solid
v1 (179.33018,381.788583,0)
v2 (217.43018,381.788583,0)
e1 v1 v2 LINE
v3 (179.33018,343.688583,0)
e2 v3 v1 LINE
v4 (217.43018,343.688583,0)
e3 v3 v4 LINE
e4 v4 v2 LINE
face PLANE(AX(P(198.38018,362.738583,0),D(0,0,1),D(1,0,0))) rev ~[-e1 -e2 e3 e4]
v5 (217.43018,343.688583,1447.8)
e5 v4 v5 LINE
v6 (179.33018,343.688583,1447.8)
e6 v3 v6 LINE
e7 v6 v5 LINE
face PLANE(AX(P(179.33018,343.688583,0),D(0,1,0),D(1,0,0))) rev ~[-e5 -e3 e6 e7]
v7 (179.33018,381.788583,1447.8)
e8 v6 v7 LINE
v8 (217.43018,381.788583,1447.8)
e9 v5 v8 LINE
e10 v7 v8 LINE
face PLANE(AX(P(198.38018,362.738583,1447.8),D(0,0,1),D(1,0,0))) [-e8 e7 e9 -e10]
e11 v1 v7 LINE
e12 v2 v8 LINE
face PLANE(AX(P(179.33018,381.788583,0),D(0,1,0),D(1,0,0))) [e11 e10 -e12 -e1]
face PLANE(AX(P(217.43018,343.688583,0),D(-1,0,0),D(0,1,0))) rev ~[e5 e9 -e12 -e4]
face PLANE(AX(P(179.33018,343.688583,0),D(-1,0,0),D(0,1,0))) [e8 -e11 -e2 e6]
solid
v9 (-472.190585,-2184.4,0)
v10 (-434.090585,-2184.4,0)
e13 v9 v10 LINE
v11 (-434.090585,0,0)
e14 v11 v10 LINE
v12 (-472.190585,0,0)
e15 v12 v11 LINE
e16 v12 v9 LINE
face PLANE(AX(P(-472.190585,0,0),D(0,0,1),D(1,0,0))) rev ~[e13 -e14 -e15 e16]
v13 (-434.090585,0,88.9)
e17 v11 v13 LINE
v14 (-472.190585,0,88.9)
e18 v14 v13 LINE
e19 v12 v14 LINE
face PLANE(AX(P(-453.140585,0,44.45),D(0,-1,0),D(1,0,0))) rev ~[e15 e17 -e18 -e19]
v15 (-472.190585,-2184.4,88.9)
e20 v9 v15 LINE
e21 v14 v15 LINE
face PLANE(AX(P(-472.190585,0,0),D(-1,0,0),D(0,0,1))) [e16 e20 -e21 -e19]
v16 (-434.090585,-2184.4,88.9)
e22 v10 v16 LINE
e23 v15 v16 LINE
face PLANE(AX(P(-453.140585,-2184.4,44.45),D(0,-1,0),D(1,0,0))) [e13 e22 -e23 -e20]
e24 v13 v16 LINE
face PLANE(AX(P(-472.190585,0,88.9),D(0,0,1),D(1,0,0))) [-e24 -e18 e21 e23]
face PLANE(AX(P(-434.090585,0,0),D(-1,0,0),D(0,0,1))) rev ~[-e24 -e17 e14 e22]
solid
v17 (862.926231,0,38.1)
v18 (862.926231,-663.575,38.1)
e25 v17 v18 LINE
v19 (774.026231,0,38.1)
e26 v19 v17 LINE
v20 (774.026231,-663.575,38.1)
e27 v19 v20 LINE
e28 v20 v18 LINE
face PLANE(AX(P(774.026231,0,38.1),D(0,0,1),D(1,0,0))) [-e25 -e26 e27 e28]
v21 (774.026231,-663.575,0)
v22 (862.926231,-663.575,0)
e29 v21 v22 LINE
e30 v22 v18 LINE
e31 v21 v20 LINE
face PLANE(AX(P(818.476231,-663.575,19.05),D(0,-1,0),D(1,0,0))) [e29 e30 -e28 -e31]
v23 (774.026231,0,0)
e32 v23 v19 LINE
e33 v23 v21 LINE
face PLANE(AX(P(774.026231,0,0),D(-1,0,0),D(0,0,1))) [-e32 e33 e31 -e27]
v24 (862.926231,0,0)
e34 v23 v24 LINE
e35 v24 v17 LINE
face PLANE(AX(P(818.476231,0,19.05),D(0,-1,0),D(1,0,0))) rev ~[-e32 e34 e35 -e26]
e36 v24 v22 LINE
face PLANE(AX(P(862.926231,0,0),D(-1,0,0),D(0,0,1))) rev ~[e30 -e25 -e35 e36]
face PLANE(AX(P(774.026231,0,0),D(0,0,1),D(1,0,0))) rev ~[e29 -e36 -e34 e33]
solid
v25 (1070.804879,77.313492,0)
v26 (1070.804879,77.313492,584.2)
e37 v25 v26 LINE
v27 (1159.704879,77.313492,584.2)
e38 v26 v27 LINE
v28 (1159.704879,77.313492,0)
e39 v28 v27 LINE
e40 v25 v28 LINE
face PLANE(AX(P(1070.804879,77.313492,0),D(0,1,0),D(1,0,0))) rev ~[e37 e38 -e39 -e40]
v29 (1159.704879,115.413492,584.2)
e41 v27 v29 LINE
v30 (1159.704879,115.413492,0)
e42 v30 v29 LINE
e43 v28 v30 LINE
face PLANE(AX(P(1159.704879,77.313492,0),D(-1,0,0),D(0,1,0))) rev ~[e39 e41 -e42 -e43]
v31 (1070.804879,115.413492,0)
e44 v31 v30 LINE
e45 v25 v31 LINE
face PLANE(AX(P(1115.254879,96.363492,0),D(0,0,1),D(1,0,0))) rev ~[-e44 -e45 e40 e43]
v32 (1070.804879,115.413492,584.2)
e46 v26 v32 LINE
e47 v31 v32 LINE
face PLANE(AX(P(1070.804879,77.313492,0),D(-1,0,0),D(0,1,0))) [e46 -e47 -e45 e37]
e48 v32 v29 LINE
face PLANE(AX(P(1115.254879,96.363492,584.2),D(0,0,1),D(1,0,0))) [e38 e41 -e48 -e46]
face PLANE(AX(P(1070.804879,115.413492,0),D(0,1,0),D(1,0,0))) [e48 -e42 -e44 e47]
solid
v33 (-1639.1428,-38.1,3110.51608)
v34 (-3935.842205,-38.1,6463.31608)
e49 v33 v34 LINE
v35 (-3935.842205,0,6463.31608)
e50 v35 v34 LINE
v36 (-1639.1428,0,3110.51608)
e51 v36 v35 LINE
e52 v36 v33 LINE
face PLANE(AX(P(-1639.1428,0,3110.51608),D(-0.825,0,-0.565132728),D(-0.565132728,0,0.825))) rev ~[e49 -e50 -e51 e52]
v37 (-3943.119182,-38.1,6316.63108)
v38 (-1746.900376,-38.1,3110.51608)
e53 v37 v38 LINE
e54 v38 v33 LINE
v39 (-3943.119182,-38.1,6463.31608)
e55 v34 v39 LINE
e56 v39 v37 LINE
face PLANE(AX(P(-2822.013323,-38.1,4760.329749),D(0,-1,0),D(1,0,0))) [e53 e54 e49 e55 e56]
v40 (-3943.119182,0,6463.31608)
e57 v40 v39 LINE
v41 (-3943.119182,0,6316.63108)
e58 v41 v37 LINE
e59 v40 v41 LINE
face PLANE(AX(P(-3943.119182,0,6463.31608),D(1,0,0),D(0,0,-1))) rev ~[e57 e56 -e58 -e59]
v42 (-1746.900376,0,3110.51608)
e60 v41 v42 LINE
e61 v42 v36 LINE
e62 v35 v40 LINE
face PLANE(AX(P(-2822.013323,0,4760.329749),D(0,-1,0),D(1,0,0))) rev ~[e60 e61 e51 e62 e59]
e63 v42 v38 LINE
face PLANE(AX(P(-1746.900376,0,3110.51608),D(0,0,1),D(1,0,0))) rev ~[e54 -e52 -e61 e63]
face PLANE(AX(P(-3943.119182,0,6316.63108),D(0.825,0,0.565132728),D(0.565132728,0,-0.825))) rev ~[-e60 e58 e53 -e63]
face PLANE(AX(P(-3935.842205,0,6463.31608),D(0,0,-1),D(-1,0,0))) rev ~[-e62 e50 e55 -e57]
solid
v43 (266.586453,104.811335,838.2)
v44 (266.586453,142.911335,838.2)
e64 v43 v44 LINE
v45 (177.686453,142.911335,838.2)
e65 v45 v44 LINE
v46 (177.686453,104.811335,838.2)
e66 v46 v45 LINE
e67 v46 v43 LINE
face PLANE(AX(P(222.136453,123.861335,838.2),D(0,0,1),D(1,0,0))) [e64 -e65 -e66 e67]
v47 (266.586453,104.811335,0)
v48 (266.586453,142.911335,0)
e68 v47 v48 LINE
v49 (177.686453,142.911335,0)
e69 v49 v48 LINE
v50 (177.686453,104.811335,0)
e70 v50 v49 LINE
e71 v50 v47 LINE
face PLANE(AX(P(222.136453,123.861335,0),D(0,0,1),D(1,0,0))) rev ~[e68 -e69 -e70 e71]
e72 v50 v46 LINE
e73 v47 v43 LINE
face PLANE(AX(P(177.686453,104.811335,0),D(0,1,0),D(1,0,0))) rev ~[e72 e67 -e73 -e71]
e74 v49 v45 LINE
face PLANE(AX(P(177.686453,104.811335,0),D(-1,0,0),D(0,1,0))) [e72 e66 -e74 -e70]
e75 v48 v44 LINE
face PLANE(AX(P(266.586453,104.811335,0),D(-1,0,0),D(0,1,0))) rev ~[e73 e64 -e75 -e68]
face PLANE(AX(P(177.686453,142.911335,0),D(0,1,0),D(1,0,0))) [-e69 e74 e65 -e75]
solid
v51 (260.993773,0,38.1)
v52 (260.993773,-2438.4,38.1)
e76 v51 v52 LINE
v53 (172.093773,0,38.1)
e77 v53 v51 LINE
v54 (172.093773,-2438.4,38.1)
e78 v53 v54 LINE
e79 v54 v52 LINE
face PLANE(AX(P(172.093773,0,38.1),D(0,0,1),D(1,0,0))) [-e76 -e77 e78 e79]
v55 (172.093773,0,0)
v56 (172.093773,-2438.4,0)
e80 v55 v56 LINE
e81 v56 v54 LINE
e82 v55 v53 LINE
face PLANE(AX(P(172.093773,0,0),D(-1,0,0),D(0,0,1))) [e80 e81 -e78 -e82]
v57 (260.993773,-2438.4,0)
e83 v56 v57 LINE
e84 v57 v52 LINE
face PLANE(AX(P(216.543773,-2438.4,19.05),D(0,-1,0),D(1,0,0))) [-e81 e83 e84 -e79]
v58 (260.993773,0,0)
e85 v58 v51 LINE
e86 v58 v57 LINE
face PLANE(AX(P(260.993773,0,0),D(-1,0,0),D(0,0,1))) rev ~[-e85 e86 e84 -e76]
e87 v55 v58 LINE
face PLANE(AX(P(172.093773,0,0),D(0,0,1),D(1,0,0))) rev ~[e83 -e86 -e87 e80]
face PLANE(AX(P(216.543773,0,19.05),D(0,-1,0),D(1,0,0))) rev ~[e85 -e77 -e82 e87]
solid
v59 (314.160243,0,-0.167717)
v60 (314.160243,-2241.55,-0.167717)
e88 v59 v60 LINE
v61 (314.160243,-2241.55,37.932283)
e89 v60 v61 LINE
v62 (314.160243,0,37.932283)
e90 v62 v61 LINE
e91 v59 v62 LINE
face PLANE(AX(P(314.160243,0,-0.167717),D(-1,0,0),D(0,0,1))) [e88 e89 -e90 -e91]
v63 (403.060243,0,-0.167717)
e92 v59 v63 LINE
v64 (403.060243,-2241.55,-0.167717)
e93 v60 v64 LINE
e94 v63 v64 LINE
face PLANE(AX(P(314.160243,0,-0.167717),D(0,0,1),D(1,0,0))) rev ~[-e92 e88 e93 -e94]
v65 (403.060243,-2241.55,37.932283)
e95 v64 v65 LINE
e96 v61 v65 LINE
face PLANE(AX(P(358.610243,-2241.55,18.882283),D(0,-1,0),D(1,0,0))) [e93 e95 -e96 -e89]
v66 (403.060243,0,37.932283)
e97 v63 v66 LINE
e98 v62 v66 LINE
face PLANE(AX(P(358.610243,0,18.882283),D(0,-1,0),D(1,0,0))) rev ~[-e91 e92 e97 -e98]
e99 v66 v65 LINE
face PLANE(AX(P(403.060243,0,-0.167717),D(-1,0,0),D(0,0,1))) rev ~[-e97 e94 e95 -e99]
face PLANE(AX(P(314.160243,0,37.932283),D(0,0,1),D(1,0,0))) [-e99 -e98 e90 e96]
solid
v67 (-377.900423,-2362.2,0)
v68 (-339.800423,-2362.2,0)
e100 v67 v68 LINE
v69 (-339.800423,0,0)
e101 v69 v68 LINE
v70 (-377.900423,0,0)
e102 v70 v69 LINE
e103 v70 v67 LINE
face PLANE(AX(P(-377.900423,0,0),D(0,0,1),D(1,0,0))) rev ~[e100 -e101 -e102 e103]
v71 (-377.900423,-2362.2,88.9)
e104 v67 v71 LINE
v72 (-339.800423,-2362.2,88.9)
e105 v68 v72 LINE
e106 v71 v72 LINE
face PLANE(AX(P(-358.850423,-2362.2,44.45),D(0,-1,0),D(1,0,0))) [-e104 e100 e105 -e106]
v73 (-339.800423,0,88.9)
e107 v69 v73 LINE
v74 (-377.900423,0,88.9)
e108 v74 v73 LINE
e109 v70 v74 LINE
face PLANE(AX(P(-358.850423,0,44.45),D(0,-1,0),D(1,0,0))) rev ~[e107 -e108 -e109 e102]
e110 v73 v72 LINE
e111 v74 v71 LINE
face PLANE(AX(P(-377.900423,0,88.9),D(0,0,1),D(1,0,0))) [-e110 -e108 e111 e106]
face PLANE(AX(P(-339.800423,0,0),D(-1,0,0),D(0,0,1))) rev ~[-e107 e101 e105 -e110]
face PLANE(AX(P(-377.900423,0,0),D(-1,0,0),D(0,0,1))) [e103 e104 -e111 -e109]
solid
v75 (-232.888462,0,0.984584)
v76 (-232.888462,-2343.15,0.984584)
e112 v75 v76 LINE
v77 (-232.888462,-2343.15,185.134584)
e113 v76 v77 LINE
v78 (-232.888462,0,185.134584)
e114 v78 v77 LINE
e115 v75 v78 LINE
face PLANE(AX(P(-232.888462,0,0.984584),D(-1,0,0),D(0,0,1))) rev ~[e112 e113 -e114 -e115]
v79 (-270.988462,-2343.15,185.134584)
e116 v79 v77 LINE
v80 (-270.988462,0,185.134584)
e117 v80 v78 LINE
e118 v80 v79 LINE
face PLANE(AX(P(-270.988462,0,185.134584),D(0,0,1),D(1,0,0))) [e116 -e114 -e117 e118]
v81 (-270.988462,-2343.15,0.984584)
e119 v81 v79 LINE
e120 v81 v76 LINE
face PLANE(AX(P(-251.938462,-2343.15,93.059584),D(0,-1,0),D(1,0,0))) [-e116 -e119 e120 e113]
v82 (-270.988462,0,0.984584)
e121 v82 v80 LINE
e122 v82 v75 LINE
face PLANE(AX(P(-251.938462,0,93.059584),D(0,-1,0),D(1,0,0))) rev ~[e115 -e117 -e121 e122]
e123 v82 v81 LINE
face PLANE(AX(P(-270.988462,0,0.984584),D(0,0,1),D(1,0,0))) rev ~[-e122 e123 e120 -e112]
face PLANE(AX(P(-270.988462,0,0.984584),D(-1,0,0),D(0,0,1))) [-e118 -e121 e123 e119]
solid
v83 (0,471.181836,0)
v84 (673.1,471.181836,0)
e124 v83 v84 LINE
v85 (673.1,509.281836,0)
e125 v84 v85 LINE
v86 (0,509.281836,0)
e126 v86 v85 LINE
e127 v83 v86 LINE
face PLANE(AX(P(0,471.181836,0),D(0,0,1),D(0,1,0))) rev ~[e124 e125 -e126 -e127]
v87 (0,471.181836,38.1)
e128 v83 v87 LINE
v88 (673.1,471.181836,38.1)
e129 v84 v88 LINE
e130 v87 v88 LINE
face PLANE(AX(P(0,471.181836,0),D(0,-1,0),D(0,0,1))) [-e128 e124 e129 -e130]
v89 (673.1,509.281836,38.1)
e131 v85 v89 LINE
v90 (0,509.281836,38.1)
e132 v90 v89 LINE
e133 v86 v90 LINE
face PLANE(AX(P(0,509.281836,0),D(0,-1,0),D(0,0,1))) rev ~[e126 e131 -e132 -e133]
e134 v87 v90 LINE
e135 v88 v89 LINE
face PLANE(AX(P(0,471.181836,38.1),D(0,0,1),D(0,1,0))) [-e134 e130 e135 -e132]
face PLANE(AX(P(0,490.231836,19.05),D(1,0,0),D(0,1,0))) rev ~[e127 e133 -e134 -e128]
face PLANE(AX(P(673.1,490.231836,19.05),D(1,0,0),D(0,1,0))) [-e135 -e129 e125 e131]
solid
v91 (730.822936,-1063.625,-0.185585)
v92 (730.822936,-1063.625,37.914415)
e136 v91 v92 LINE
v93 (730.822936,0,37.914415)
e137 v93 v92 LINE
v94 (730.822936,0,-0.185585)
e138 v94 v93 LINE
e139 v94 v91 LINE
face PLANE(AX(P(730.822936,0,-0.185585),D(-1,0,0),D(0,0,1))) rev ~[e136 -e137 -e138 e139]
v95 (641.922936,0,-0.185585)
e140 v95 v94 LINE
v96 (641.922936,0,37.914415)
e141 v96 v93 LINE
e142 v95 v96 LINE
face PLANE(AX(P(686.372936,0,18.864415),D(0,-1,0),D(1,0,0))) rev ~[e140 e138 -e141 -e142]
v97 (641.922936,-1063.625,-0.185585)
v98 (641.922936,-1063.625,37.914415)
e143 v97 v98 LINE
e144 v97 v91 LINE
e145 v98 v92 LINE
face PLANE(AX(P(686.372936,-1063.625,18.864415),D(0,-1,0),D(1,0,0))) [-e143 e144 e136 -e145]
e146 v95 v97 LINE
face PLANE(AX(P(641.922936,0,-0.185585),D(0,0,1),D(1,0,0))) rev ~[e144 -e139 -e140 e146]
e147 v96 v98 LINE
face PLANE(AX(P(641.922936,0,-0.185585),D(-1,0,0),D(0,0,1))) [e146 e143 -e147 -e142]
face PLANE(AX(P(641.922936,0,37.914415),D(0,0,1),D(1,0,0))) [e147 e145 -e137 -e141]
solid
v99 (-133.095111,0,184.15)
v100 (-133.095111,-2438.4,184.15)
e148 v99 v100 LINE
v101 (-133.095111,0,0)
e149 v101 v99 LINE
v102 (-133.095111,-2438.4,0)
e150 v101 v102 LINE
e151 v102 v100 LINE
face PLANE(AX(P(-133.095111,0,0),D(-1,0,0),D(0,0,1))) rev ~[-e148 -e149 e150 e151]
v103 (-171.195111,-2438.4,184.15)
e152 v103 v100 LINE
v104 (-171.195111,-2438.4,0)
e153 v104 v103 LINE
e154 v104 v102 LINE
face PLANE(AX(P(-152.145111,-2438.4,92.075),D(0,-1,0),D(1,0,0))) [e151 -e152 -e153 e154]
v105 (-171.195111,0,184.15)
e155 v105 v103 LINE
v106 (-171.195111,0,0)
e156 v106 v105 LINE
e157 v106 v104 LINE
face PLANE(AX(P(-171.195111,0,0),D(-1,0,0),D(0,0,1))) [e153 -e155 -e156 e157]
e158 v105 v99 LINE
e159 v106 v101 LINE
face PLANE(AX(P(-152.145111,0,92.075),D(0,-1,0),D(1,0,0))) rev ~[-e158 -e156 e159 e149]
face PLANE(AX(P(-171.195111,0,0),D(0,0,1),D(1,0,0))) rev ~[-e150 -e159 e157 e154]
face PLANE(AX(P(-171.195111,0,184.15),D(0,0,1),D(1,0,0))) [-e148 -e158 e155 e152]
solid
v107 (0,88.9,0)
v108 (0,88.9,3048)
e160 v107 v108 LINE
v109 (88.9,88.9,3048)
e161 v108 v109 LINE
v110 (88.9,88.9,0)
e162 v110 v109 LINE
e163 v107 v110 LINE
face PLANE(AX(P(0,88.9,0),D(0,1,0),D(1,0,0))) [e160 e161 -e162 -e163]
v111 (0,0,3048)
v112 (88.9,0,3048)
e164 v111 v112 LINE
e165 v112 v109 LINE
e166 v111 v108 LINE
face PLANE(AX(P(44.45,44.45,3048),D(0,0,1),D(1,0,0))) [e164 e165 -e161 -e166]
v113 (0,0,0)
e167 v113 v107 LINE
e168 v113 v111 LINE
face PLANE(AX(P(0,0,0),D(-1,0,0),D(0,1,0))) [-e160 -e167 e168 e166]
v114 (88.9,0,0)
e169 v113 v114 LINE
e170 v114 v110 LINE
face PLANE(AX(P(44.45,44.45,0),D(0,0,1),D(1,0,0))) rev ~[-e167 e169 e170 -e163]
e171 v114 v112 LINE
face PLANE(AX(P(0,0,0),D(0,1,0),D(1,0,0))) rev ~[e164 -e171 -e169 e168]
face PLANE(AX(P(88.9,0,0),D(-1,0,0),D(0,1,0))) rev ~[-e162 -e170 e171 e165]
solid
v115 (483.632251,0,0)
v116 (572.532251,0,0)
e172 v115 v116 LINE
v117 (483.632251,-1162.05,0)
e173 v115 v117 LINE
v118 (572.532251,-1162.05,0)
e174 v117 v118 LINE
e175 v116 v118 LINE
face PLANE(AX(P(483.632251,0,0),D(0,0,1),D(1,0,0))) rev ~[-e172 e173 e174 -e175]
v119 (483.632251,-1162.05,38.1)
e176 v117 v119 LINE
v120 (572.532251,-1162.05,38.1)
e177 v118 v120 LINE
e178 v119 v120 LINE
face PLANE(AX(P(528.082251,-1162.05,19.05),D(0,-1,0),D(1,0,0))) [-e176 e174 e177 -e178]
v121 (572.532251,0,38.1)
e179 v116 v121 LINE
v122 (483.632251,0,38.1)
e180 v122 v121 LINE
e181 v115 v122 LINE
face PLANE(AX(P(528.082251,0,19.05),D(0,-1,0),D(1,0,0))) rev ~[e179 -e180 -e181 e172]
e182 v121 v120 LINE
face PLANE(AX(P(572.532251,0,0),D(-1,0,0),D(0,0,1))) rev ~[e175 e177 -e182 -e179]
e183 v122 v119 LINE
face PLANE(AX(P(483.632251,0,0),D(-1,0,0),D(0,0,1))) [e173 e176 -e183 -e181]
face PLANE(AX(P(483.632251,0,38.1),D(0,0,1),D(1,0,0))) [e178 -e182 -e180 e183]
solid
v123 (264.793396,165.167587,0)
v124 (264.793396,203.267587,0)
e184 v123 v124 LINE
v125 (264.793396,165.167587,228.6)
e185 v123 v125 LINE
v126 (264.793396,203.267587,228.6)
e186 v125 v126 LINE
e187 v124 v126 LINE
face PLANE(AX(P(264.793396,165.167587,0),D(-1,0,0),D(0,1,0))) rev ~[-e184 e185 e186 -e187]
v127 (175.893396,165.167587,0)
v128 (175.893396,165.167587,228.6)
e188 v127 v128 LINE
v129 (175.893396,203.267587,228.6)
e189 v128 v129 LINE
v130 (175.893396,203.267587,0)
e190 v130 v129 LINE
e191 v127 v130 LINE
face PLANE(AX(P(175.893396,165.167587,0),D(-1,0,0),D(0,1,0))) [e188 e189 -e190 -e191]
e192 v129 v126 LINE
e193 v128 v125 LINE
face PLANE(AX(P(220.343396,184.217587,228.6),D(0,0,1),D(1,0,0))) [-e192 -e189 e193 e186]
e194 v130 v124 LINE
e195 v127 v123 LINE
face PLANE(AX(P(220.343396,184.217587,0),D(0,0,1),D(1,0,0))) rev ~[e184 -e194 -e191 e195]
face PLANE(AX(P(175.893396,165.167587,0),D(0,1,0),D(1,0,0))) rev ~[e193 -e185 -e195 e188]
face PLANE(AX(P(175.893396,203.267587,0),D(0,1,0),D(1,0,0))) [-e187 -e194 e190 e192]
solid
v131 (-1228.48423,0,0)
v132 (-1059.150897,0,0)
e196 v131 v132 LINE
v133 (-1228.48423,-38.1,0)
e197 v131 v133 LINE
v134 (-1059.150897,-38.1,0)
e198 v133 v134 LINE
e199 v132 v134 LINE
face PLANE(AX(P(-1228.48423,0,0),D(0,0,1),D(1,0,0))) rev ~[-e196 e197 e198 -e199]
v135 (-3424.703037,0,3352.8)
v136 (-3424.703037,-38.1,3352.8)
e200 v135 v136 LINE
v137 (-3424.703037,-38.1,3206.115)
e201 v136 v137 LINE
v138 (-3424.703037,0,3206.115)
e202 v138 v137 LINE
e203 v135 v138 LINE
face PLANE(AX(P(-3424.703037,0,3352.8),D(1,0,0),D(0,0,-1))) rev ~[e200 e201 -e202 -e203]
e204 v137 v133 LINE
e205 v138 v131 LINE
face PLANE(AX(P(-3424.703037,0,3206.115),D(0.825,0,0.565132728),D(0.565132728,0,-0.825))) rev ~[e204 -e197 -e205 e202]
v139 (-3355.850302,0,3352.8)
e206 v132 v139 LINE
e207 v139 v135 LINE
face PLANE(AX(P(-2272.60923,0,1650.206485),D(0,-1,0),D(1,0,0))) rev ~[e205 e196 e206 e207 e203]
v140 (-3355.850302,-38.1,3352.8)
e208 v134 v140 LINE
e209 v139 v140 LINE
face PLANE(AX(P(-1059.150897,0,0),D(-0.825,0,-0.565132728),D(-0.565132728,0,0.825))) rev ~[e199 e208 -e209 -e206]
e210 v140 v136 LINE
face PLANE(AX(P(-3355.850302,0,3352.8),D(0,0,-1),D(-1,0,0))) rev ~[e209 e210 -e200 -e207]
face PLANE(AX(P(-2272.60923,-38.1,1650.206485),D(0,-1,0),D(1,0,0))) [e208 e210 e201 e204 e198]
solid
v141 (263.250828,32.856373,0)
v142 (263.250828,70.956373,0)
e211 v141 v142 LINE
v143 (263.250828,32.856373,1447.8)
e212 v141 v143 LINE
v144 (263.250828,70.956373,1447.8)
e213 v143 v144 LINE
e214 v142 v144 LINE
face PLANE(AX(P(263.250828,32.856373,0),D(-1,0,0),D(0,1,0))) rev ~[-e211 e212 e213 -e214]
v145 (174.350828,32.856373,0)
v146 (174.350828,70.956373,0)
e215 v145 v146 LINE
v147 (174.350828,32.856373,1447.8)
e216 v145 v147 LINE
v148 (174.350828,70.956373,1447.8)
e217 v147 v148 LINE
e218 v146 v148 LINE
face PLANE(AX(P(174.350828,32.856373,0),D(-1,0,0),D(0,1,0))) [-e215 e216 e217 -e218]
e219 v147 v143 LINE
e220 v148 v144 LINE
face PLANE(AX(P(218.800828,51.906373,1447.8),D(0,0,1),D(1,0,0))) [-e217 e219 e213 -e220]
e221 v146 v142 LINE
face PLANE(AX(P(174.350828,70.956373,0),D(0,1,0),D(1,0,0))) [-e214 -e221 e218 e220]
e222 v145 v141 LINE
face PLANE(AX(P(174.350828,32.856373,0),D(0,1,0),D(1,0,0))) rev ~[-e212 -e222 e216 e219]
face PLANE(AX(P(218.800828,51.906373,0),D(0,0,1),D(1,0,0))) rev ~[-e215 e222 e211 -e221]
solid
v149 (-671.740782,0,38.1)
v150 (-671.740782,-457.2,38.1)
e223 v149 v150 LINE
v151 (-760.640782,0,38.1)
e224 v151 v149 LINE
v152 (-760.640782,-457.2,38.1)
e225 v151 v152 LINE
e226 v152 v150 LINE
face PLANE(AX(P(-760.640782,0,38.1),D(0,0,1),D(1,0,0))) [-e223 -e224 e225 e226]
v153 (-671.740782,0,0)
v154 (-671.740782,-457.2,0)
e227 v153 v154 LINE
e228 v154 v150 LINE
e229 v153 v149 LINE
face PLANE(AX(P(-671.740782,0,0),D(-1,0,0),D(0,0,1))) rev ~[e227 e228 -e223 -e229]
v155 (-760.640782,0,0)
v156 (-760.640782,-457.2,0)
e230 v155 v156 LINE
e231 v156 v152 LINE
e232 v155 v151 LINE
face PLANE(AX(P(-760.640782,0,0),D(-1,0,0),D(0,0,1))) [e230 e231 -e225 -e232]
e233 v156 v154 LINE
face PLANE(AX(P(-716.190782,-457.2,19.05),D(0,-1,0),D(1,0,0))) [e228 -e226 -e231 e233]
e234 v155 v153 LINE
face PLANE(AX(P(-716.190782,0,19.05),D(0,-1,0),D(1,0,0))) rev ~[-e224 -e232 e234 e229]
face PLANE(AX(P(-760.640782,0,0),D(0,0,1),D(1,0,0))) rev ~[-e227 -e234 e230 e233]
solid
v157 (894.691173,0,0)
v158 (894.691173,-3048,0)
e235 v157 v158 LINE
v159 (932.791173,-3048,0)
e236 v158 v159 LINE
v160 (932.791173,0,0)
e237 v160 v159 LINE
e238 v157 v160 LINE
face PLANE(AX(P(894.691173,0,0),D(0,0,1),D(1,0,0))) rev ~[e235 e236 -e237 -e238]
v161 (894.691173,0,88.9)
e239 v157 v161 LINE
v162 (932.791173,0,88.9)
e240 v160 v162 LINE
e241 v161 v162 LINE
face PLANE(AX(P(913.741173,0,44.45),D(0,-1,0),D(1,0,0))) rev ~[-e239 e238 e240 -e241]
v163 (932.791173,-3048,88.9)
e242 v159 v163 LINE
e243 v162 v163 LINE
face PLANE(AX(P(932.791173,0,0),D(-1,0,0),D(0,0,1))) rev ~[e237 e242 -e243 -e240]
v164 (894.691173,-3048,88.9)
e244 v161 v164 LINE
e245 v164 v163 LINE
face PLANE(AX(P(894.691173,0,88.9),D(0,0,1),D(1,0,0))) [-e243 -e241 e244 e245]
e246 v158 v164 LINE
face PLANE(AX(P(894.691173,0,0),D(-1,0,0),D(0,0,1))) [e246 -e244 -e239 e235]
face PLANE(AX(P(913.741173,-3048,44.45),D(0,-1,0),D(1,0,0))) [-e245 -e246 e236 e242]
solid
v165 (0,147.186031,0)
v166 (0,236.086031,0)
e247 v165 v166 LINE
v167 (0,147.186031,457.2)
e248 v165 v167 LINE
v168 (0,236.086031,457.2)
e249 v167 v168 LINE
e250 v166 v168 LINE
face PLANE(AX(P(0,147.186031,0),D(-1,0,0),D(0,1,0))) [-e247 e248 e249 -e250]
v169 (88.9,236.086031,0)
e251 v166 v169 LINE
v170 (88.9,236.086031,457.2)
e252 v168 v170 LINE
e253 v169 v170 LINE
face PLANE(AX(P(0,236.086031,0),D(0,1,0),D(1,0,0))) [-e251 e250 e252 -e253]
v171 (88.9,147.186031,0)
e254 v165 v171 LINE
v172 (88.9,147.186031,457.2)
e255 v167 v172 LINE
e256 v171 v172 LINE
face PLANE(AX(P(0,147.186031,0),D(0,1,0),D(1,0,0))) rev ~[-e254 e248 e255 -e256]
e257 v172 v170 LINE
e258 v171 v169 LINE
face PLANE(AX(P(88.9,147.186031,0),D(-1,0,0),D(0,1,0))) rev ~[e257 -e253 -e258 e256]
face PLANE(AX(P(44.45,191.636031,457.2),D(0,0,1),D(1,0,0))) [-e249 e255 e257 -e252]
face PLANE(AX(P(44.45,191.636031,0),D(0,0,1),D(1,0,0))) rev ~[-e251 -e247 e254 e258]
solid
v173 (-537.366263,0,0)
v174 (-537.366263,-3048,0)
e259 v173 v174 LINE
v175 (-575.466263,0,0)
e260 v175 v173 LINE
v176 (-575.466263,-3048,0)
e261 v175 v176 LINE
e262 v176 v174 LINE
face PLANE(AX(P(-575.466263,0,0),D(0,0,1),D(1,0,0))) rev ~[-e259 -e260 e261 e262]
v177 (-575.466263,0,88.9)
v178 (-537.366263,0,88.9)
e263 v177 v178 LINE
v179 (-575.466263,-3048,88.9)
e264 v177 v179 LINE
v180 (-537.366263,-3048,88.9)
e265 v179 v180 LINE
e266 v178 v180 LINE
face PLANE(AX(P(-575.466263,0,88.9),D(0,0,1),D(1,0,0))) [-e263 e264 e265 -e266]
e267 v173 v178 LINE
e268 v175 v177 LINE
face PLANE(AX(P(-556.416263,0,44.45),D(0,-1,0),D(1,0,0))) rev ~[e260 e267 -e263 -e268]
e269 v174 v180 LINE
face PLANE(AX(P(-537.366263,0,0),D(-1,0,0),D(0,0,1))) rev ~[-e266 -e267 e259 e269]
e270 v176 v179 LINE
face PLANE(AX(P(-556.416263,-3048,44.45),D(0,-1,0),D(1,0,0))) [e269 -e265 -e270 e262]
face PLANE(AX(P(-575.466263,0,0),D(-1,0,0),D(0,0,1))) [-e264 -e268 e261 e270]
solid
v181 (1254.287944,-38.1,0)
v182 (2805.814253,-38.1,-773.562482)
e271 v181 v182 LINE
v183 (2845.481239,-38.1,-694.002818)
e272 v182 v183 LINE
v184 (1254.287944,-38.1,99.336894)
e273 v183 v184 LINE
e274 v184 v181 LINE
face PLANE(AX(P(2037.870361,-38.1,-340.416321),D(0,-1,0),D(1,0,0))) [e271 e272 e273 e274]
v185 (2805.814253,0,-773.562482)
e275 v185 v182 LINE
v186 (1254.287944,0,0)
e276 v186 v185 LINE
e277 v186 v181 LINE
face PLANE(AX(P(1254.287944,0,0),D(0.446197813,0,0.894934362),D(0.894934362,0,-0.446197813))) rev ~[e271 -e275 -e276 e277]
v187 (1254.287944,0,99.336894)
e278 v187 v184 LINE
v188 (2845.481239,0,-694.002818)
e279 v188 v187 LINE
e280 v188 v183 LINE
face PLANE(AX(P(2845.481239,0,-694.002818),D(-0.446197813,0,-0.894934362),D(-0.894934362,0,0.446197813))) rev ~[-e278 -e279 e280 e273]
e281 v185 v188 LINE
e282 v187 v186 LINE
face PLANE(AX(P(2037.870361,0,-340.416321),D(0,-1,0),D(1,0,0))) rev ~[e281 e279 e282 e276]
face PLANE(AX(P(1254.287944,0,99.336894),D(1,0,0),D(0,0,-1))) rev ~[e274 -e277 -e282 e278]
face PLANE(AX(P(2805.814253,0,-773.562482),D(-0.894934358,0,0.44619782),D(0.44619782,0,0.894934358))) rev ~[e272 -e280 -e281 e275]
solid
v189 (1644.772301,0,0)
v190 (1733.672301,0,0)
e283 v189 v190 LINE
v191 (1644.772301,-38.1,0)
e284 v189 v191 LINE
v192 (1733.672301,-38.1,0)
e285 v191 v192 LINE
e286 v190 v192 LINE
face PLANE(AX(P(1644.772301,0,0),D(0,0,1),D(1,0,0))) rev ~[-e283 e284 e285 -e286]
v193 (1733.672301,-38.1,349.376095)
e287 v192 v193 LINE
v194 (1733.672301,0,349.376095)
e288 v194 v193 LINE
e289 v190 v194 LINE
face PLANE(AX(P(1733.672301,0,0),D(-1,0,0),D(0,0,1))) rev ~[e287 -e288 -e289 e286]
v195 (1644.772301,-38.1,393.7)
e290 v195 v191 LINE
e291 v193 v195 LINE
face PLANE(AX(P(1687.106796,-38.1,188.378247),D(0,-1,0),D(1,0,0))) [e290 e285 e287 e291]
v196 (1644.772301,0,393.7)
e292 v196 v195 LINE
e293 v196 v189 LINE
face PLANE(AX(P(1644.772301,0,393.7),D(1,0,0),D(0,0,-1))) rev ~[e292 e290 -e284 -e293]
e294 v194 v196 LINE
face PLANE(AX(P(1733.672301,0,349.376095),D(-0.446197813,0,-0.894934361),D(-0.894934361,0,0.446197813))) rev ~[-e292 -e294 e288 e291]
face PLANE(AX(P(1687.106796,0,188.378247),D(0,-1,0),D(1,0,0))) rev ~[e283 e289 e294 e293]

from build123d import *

# Parameters (mm, degrees)
F0_W      = 88.9
F0_H      = 88.9
F1_DEPTH  = 3048
F2_W      = 38.1
F2_H      = 184.15
F3_DEPTH  = 2438.4
F4_W      = 38.1
F4_H      = 184.15
F5_DEPTH  = 2343.15
F6_W      = 38.1
F6_H      = 88.9
F7_DEPTH  = 2362.2
F8_W      = 38.1
F8_H      = 88.9
F9_DEPTH  = 2184.4
F10_W     = 38.1
F10_H     = 88.9
F11_DEPTH = 3048
F12_W     = 88.9
F12_H     = 38.1
F13_DEPTH = 2438.4
F14_W     = 88.9
F14_H     = 38.1
F15_DEPTH = 1447.8
F16_W     = 88.9
F16_H     = 38.1
F17_DEPTH = 2241.55
F18_W     = 88.9
F18_H     = 38.1
F19_DEPTH = 1162.05
F20_W     = 88.9
F20_H     = 38.1
F21_DEPTH = 1063.625
F22_W     = 88.9
F22_H     = 38.1
F23_DEPTH = 838.2
F24_W     = 88.9
F24_H     = 38.1
F25_DEPTH = 228.6
F26_W     = 38.1
F26_H     = 88.9
F27_DEPTH = 3048
F29_DEPTH = 38.1
F30_W     = 88.9
F30_H     = 38.1
F31_DEPTH = 584.2
F33_DEPTH = 38.1
F34_W     = 38.1
F34_H     = 38.1
F35_DEPTH = 1447.8
F36_W     = 38.1
F36_H     = 38.1
F37_DEPTH = 673.1
F38_W     = 88.9
F38_H     = 38.1
F39_DEPTH = 663.575
F41_DEPTH = 38.1
F42_W     = 88.9
F42_H     = 88.9
F43_DEPTH = 457.2
F44_W     = 88.9
F44_H     = 38.1
F45_DEPTH = 457.2
F47_DEPTH = 38.1


with BuildPart() as f1:
    # F0 (on Top) → F1 (new body)
    with BuildSketch(Plane.XY):
        with Locations((44.45, 44.45)):
            Rectangle(F0_W, F0_H)
    extrude(amount=F1_DEPTH)


with BuildPart() as f3:
    # F2 (on Front) → F3 (new body)
    with BuildSketch(Plane.XZ):
        with Locations((-152.145111, 92.075)):
            Rectangle(F2_W, F2_H)
    extrude(amount=F3_DEPTH)


with BuildPart() as f5:
    # F4 (on Front) → F5 (new body)
    with BuildSketch(Plane.XZ):
        with Locations((-251.938462, 93.059584)):
            Rectangle(F4_W, F4_H)
    extrude(amount=F5_DEPTH)


with BuildPart() as f7:
    # F6 (on Front) → F7 (new body)
    with BuildSketch(Plane.XZ):
        with Locations((-358.850423, 44.45)):
            Rectangle(F6_W, F6_H)
    extrude(amount=F7_DEPTH)


with BuildPart() as f9:
    # F8 (on Front) → F9 (new body)
    with BuildSketch(Plane.XZ):
        with Locations((-453.140585, 44.45)):
            Rectangle(F8_W, F8_H)
    extrude(amount=F9_DEPTH)


with BuildPart() as f11:
    # F10 (on Front) → F11 (new body)
    with BuildSketch(Plane.XZ):
        with Locations((-556.416263, 44.45)):
            Rectangle(F10_W, F10_H)
    extrude(amount=F11_DEPTH)


with BuildPart() as f13:
    # F12 (on Front) → F13 (new body)
    with BuildSketch(Plane.XZ):
        with Locations((216.543773, 19.05)):
            Rectangle(F12_W, F12_H)
    extrude(amount=F13_DEPTH)


with BuildPart() as f15:
    # F14 (on Top) → F15 (new body)
    with BuildSketch(Plane.XY):
        with Locations((218.800828, 51.906373)):
            Rectangle(F14_W, F14_H)
    extrude(amount=F15_DEPTH)


with BuildPart() as f17:
    # F16 (on Front) → F17 (new body)
    with BuildSketch(Plane.XZ):
        with Locations((358.610243, 18.882283)):
            Rectangle(F16_W, F16_H)
    extrude(amount=F17_DEPTH)


with BuildPart() as f19:
    # F18 (on Front) → F19 (new body)
    with BuildSketch(Plane.XZ):
        with Locations((528.082251, 19.05)):
            Rectangle(F18_W, F18_H)
    extrude(amount=F19_DEPTH)


with BuildPart() as f21:
    # F20 (on Front) → F21 (new body)
    with BuildSketch(Plane.XZ):
        with Locations((686.372936, 18.864415)):
            Rectangle(F20_W, F20_H)
    extrude(amount=F21_DEPTH)


with BuildPart() as f23:
    # F22 (on Top) → F23 (new body)
    with BuildSketch(Plane.XY):
        with Locations((222.136453, 123.861335)):
            Rectangle(F22_W, F22_H)
    extrude(amount=F23_DEPTH)


with BuildPart() as f25:
    # F24 (on Top) → F25 (new body)
    with BuildSketch(Plane.XY):
        with Locations((220.343396, 184.217587)):
            Rectangle(F24_W, F24_H)
    extrude(amount=F25_DEPTH)


with BuildPart() as f27:
    # F26 (on Front) → F27 (new body)
    with BuildSketch(Plane.XZ):
        with Locations((913.741173, 44.45)):
            Rectangle(F26_W, F26_H)
    extrude(amount=F27_DEPTH)


with BuildPart() as f29:
    # F28 (on Front) → F29 (new body)
    with BuildSketch(Plane.XZ):
        Polygon((1254.287944, 99.336894), (1254.287944, 0), (2805.814253, -773.562482), (2845.481239, -694.002818), align=None)
    extrude(amount=F29_DEPTH)


with BuildPart() as f31:
    # F30 (on Top) → F31 (new body)
    with BuildSketch(Plane.XY):
        with Locations((1115.254879, 96.363492)):
            Rectangle(F30_W, F30_H)
    extrude(amount=F31_DEPTH)


with BuildPart() as f33:
    # F32 (on Front) → F33 (new body)
    with BuildSketch(Plane.XZ):
        Polygon((1644.772301, 393.7), (1644.772301, 0), (1733.672301, 0), (1733.672301, 349.376095), align=None)
    extrude(amount=F33_DEPTH)


with BuildPart() as f35:
    # F34 (on Top) → F35 (new body)
    with BuildSketch(Plane.XY):
        with Locations((198.38018, 362.738583)):
            Rectangle(F34_W, F34_H)
    extrude(amount=F35_DEPTH)


with BuildPart() as f37:
    # F36 (on Right) → F37 (new body)
    with BuildSketch(Plane.YZ):
        with Locations((490.231836, 19.05)):
            Rectangle(F36_W, F36_H)
    extrude(amount=F37_DEPTH)


with BuildPart() as f39:
    # F38 (on Front) → F39 (new body)
    with BuildSketch(Plane.XZ):
        with Locations((818.476231, 19.05)):
            Rectangle(F38_W, F38_H)
    extrude(amount=F39_DEPTH)


with BuildPart() as f41:
    # F40 (on Front) → F41 (new body)
    with BuildSketch(Plane.XZ):
        Polygon((-1228.48423, 0), (-1059.150897, 0), (-3355.850302, 3352.8), (-3424.703037, 3352.8), (-3424.703037, 3206.115), align=None)
    extrude(amount=F41_DEPTH)


with BuildPart() as f43:
    # F42 (on Top) → F43 (new body)
    with BuildSketch(Plane.XY):
        with Locations((44.45, 191.636031)):
            Rectangle(F42_W, F42_H)
    extrude(amount=F43_DEPTH)


with BuildPart() as f45:
    # F44 (on Front) → F45 (new body)
    with BuildSketch(Plane.XZ):
        with Locations((-716.190782, 19.05)):
            Rectangle(F44_W, F44_H)
    extrude(amount=F45_DEPTH)


with BuildPart() as f47:
    # F46 (on Front) → F47 (new body)
    with BuildSketch(Plane.XZ):
        Polygon((-1746.900376, 3110.51608), (-1639.1428, 3110.51608), (-3935.842205, 6463.31608), (-3943.119182, 6463.31608), (-3943.119182, 6316.63108), align=None)
    extrude(amount=F47_DEPTH)


solid = Compound([f1.part, f3.part, f5.part, f7.part, f9.part, f11.part, f13.part, f15.part, f17.part, f19.part, f21.part, f23.part, f25.part, f27.part, f29.part, f31.part, f33.part, f35.part, f37.part, f39.part, f41.part, f43.part, f45.part, f47.part])
